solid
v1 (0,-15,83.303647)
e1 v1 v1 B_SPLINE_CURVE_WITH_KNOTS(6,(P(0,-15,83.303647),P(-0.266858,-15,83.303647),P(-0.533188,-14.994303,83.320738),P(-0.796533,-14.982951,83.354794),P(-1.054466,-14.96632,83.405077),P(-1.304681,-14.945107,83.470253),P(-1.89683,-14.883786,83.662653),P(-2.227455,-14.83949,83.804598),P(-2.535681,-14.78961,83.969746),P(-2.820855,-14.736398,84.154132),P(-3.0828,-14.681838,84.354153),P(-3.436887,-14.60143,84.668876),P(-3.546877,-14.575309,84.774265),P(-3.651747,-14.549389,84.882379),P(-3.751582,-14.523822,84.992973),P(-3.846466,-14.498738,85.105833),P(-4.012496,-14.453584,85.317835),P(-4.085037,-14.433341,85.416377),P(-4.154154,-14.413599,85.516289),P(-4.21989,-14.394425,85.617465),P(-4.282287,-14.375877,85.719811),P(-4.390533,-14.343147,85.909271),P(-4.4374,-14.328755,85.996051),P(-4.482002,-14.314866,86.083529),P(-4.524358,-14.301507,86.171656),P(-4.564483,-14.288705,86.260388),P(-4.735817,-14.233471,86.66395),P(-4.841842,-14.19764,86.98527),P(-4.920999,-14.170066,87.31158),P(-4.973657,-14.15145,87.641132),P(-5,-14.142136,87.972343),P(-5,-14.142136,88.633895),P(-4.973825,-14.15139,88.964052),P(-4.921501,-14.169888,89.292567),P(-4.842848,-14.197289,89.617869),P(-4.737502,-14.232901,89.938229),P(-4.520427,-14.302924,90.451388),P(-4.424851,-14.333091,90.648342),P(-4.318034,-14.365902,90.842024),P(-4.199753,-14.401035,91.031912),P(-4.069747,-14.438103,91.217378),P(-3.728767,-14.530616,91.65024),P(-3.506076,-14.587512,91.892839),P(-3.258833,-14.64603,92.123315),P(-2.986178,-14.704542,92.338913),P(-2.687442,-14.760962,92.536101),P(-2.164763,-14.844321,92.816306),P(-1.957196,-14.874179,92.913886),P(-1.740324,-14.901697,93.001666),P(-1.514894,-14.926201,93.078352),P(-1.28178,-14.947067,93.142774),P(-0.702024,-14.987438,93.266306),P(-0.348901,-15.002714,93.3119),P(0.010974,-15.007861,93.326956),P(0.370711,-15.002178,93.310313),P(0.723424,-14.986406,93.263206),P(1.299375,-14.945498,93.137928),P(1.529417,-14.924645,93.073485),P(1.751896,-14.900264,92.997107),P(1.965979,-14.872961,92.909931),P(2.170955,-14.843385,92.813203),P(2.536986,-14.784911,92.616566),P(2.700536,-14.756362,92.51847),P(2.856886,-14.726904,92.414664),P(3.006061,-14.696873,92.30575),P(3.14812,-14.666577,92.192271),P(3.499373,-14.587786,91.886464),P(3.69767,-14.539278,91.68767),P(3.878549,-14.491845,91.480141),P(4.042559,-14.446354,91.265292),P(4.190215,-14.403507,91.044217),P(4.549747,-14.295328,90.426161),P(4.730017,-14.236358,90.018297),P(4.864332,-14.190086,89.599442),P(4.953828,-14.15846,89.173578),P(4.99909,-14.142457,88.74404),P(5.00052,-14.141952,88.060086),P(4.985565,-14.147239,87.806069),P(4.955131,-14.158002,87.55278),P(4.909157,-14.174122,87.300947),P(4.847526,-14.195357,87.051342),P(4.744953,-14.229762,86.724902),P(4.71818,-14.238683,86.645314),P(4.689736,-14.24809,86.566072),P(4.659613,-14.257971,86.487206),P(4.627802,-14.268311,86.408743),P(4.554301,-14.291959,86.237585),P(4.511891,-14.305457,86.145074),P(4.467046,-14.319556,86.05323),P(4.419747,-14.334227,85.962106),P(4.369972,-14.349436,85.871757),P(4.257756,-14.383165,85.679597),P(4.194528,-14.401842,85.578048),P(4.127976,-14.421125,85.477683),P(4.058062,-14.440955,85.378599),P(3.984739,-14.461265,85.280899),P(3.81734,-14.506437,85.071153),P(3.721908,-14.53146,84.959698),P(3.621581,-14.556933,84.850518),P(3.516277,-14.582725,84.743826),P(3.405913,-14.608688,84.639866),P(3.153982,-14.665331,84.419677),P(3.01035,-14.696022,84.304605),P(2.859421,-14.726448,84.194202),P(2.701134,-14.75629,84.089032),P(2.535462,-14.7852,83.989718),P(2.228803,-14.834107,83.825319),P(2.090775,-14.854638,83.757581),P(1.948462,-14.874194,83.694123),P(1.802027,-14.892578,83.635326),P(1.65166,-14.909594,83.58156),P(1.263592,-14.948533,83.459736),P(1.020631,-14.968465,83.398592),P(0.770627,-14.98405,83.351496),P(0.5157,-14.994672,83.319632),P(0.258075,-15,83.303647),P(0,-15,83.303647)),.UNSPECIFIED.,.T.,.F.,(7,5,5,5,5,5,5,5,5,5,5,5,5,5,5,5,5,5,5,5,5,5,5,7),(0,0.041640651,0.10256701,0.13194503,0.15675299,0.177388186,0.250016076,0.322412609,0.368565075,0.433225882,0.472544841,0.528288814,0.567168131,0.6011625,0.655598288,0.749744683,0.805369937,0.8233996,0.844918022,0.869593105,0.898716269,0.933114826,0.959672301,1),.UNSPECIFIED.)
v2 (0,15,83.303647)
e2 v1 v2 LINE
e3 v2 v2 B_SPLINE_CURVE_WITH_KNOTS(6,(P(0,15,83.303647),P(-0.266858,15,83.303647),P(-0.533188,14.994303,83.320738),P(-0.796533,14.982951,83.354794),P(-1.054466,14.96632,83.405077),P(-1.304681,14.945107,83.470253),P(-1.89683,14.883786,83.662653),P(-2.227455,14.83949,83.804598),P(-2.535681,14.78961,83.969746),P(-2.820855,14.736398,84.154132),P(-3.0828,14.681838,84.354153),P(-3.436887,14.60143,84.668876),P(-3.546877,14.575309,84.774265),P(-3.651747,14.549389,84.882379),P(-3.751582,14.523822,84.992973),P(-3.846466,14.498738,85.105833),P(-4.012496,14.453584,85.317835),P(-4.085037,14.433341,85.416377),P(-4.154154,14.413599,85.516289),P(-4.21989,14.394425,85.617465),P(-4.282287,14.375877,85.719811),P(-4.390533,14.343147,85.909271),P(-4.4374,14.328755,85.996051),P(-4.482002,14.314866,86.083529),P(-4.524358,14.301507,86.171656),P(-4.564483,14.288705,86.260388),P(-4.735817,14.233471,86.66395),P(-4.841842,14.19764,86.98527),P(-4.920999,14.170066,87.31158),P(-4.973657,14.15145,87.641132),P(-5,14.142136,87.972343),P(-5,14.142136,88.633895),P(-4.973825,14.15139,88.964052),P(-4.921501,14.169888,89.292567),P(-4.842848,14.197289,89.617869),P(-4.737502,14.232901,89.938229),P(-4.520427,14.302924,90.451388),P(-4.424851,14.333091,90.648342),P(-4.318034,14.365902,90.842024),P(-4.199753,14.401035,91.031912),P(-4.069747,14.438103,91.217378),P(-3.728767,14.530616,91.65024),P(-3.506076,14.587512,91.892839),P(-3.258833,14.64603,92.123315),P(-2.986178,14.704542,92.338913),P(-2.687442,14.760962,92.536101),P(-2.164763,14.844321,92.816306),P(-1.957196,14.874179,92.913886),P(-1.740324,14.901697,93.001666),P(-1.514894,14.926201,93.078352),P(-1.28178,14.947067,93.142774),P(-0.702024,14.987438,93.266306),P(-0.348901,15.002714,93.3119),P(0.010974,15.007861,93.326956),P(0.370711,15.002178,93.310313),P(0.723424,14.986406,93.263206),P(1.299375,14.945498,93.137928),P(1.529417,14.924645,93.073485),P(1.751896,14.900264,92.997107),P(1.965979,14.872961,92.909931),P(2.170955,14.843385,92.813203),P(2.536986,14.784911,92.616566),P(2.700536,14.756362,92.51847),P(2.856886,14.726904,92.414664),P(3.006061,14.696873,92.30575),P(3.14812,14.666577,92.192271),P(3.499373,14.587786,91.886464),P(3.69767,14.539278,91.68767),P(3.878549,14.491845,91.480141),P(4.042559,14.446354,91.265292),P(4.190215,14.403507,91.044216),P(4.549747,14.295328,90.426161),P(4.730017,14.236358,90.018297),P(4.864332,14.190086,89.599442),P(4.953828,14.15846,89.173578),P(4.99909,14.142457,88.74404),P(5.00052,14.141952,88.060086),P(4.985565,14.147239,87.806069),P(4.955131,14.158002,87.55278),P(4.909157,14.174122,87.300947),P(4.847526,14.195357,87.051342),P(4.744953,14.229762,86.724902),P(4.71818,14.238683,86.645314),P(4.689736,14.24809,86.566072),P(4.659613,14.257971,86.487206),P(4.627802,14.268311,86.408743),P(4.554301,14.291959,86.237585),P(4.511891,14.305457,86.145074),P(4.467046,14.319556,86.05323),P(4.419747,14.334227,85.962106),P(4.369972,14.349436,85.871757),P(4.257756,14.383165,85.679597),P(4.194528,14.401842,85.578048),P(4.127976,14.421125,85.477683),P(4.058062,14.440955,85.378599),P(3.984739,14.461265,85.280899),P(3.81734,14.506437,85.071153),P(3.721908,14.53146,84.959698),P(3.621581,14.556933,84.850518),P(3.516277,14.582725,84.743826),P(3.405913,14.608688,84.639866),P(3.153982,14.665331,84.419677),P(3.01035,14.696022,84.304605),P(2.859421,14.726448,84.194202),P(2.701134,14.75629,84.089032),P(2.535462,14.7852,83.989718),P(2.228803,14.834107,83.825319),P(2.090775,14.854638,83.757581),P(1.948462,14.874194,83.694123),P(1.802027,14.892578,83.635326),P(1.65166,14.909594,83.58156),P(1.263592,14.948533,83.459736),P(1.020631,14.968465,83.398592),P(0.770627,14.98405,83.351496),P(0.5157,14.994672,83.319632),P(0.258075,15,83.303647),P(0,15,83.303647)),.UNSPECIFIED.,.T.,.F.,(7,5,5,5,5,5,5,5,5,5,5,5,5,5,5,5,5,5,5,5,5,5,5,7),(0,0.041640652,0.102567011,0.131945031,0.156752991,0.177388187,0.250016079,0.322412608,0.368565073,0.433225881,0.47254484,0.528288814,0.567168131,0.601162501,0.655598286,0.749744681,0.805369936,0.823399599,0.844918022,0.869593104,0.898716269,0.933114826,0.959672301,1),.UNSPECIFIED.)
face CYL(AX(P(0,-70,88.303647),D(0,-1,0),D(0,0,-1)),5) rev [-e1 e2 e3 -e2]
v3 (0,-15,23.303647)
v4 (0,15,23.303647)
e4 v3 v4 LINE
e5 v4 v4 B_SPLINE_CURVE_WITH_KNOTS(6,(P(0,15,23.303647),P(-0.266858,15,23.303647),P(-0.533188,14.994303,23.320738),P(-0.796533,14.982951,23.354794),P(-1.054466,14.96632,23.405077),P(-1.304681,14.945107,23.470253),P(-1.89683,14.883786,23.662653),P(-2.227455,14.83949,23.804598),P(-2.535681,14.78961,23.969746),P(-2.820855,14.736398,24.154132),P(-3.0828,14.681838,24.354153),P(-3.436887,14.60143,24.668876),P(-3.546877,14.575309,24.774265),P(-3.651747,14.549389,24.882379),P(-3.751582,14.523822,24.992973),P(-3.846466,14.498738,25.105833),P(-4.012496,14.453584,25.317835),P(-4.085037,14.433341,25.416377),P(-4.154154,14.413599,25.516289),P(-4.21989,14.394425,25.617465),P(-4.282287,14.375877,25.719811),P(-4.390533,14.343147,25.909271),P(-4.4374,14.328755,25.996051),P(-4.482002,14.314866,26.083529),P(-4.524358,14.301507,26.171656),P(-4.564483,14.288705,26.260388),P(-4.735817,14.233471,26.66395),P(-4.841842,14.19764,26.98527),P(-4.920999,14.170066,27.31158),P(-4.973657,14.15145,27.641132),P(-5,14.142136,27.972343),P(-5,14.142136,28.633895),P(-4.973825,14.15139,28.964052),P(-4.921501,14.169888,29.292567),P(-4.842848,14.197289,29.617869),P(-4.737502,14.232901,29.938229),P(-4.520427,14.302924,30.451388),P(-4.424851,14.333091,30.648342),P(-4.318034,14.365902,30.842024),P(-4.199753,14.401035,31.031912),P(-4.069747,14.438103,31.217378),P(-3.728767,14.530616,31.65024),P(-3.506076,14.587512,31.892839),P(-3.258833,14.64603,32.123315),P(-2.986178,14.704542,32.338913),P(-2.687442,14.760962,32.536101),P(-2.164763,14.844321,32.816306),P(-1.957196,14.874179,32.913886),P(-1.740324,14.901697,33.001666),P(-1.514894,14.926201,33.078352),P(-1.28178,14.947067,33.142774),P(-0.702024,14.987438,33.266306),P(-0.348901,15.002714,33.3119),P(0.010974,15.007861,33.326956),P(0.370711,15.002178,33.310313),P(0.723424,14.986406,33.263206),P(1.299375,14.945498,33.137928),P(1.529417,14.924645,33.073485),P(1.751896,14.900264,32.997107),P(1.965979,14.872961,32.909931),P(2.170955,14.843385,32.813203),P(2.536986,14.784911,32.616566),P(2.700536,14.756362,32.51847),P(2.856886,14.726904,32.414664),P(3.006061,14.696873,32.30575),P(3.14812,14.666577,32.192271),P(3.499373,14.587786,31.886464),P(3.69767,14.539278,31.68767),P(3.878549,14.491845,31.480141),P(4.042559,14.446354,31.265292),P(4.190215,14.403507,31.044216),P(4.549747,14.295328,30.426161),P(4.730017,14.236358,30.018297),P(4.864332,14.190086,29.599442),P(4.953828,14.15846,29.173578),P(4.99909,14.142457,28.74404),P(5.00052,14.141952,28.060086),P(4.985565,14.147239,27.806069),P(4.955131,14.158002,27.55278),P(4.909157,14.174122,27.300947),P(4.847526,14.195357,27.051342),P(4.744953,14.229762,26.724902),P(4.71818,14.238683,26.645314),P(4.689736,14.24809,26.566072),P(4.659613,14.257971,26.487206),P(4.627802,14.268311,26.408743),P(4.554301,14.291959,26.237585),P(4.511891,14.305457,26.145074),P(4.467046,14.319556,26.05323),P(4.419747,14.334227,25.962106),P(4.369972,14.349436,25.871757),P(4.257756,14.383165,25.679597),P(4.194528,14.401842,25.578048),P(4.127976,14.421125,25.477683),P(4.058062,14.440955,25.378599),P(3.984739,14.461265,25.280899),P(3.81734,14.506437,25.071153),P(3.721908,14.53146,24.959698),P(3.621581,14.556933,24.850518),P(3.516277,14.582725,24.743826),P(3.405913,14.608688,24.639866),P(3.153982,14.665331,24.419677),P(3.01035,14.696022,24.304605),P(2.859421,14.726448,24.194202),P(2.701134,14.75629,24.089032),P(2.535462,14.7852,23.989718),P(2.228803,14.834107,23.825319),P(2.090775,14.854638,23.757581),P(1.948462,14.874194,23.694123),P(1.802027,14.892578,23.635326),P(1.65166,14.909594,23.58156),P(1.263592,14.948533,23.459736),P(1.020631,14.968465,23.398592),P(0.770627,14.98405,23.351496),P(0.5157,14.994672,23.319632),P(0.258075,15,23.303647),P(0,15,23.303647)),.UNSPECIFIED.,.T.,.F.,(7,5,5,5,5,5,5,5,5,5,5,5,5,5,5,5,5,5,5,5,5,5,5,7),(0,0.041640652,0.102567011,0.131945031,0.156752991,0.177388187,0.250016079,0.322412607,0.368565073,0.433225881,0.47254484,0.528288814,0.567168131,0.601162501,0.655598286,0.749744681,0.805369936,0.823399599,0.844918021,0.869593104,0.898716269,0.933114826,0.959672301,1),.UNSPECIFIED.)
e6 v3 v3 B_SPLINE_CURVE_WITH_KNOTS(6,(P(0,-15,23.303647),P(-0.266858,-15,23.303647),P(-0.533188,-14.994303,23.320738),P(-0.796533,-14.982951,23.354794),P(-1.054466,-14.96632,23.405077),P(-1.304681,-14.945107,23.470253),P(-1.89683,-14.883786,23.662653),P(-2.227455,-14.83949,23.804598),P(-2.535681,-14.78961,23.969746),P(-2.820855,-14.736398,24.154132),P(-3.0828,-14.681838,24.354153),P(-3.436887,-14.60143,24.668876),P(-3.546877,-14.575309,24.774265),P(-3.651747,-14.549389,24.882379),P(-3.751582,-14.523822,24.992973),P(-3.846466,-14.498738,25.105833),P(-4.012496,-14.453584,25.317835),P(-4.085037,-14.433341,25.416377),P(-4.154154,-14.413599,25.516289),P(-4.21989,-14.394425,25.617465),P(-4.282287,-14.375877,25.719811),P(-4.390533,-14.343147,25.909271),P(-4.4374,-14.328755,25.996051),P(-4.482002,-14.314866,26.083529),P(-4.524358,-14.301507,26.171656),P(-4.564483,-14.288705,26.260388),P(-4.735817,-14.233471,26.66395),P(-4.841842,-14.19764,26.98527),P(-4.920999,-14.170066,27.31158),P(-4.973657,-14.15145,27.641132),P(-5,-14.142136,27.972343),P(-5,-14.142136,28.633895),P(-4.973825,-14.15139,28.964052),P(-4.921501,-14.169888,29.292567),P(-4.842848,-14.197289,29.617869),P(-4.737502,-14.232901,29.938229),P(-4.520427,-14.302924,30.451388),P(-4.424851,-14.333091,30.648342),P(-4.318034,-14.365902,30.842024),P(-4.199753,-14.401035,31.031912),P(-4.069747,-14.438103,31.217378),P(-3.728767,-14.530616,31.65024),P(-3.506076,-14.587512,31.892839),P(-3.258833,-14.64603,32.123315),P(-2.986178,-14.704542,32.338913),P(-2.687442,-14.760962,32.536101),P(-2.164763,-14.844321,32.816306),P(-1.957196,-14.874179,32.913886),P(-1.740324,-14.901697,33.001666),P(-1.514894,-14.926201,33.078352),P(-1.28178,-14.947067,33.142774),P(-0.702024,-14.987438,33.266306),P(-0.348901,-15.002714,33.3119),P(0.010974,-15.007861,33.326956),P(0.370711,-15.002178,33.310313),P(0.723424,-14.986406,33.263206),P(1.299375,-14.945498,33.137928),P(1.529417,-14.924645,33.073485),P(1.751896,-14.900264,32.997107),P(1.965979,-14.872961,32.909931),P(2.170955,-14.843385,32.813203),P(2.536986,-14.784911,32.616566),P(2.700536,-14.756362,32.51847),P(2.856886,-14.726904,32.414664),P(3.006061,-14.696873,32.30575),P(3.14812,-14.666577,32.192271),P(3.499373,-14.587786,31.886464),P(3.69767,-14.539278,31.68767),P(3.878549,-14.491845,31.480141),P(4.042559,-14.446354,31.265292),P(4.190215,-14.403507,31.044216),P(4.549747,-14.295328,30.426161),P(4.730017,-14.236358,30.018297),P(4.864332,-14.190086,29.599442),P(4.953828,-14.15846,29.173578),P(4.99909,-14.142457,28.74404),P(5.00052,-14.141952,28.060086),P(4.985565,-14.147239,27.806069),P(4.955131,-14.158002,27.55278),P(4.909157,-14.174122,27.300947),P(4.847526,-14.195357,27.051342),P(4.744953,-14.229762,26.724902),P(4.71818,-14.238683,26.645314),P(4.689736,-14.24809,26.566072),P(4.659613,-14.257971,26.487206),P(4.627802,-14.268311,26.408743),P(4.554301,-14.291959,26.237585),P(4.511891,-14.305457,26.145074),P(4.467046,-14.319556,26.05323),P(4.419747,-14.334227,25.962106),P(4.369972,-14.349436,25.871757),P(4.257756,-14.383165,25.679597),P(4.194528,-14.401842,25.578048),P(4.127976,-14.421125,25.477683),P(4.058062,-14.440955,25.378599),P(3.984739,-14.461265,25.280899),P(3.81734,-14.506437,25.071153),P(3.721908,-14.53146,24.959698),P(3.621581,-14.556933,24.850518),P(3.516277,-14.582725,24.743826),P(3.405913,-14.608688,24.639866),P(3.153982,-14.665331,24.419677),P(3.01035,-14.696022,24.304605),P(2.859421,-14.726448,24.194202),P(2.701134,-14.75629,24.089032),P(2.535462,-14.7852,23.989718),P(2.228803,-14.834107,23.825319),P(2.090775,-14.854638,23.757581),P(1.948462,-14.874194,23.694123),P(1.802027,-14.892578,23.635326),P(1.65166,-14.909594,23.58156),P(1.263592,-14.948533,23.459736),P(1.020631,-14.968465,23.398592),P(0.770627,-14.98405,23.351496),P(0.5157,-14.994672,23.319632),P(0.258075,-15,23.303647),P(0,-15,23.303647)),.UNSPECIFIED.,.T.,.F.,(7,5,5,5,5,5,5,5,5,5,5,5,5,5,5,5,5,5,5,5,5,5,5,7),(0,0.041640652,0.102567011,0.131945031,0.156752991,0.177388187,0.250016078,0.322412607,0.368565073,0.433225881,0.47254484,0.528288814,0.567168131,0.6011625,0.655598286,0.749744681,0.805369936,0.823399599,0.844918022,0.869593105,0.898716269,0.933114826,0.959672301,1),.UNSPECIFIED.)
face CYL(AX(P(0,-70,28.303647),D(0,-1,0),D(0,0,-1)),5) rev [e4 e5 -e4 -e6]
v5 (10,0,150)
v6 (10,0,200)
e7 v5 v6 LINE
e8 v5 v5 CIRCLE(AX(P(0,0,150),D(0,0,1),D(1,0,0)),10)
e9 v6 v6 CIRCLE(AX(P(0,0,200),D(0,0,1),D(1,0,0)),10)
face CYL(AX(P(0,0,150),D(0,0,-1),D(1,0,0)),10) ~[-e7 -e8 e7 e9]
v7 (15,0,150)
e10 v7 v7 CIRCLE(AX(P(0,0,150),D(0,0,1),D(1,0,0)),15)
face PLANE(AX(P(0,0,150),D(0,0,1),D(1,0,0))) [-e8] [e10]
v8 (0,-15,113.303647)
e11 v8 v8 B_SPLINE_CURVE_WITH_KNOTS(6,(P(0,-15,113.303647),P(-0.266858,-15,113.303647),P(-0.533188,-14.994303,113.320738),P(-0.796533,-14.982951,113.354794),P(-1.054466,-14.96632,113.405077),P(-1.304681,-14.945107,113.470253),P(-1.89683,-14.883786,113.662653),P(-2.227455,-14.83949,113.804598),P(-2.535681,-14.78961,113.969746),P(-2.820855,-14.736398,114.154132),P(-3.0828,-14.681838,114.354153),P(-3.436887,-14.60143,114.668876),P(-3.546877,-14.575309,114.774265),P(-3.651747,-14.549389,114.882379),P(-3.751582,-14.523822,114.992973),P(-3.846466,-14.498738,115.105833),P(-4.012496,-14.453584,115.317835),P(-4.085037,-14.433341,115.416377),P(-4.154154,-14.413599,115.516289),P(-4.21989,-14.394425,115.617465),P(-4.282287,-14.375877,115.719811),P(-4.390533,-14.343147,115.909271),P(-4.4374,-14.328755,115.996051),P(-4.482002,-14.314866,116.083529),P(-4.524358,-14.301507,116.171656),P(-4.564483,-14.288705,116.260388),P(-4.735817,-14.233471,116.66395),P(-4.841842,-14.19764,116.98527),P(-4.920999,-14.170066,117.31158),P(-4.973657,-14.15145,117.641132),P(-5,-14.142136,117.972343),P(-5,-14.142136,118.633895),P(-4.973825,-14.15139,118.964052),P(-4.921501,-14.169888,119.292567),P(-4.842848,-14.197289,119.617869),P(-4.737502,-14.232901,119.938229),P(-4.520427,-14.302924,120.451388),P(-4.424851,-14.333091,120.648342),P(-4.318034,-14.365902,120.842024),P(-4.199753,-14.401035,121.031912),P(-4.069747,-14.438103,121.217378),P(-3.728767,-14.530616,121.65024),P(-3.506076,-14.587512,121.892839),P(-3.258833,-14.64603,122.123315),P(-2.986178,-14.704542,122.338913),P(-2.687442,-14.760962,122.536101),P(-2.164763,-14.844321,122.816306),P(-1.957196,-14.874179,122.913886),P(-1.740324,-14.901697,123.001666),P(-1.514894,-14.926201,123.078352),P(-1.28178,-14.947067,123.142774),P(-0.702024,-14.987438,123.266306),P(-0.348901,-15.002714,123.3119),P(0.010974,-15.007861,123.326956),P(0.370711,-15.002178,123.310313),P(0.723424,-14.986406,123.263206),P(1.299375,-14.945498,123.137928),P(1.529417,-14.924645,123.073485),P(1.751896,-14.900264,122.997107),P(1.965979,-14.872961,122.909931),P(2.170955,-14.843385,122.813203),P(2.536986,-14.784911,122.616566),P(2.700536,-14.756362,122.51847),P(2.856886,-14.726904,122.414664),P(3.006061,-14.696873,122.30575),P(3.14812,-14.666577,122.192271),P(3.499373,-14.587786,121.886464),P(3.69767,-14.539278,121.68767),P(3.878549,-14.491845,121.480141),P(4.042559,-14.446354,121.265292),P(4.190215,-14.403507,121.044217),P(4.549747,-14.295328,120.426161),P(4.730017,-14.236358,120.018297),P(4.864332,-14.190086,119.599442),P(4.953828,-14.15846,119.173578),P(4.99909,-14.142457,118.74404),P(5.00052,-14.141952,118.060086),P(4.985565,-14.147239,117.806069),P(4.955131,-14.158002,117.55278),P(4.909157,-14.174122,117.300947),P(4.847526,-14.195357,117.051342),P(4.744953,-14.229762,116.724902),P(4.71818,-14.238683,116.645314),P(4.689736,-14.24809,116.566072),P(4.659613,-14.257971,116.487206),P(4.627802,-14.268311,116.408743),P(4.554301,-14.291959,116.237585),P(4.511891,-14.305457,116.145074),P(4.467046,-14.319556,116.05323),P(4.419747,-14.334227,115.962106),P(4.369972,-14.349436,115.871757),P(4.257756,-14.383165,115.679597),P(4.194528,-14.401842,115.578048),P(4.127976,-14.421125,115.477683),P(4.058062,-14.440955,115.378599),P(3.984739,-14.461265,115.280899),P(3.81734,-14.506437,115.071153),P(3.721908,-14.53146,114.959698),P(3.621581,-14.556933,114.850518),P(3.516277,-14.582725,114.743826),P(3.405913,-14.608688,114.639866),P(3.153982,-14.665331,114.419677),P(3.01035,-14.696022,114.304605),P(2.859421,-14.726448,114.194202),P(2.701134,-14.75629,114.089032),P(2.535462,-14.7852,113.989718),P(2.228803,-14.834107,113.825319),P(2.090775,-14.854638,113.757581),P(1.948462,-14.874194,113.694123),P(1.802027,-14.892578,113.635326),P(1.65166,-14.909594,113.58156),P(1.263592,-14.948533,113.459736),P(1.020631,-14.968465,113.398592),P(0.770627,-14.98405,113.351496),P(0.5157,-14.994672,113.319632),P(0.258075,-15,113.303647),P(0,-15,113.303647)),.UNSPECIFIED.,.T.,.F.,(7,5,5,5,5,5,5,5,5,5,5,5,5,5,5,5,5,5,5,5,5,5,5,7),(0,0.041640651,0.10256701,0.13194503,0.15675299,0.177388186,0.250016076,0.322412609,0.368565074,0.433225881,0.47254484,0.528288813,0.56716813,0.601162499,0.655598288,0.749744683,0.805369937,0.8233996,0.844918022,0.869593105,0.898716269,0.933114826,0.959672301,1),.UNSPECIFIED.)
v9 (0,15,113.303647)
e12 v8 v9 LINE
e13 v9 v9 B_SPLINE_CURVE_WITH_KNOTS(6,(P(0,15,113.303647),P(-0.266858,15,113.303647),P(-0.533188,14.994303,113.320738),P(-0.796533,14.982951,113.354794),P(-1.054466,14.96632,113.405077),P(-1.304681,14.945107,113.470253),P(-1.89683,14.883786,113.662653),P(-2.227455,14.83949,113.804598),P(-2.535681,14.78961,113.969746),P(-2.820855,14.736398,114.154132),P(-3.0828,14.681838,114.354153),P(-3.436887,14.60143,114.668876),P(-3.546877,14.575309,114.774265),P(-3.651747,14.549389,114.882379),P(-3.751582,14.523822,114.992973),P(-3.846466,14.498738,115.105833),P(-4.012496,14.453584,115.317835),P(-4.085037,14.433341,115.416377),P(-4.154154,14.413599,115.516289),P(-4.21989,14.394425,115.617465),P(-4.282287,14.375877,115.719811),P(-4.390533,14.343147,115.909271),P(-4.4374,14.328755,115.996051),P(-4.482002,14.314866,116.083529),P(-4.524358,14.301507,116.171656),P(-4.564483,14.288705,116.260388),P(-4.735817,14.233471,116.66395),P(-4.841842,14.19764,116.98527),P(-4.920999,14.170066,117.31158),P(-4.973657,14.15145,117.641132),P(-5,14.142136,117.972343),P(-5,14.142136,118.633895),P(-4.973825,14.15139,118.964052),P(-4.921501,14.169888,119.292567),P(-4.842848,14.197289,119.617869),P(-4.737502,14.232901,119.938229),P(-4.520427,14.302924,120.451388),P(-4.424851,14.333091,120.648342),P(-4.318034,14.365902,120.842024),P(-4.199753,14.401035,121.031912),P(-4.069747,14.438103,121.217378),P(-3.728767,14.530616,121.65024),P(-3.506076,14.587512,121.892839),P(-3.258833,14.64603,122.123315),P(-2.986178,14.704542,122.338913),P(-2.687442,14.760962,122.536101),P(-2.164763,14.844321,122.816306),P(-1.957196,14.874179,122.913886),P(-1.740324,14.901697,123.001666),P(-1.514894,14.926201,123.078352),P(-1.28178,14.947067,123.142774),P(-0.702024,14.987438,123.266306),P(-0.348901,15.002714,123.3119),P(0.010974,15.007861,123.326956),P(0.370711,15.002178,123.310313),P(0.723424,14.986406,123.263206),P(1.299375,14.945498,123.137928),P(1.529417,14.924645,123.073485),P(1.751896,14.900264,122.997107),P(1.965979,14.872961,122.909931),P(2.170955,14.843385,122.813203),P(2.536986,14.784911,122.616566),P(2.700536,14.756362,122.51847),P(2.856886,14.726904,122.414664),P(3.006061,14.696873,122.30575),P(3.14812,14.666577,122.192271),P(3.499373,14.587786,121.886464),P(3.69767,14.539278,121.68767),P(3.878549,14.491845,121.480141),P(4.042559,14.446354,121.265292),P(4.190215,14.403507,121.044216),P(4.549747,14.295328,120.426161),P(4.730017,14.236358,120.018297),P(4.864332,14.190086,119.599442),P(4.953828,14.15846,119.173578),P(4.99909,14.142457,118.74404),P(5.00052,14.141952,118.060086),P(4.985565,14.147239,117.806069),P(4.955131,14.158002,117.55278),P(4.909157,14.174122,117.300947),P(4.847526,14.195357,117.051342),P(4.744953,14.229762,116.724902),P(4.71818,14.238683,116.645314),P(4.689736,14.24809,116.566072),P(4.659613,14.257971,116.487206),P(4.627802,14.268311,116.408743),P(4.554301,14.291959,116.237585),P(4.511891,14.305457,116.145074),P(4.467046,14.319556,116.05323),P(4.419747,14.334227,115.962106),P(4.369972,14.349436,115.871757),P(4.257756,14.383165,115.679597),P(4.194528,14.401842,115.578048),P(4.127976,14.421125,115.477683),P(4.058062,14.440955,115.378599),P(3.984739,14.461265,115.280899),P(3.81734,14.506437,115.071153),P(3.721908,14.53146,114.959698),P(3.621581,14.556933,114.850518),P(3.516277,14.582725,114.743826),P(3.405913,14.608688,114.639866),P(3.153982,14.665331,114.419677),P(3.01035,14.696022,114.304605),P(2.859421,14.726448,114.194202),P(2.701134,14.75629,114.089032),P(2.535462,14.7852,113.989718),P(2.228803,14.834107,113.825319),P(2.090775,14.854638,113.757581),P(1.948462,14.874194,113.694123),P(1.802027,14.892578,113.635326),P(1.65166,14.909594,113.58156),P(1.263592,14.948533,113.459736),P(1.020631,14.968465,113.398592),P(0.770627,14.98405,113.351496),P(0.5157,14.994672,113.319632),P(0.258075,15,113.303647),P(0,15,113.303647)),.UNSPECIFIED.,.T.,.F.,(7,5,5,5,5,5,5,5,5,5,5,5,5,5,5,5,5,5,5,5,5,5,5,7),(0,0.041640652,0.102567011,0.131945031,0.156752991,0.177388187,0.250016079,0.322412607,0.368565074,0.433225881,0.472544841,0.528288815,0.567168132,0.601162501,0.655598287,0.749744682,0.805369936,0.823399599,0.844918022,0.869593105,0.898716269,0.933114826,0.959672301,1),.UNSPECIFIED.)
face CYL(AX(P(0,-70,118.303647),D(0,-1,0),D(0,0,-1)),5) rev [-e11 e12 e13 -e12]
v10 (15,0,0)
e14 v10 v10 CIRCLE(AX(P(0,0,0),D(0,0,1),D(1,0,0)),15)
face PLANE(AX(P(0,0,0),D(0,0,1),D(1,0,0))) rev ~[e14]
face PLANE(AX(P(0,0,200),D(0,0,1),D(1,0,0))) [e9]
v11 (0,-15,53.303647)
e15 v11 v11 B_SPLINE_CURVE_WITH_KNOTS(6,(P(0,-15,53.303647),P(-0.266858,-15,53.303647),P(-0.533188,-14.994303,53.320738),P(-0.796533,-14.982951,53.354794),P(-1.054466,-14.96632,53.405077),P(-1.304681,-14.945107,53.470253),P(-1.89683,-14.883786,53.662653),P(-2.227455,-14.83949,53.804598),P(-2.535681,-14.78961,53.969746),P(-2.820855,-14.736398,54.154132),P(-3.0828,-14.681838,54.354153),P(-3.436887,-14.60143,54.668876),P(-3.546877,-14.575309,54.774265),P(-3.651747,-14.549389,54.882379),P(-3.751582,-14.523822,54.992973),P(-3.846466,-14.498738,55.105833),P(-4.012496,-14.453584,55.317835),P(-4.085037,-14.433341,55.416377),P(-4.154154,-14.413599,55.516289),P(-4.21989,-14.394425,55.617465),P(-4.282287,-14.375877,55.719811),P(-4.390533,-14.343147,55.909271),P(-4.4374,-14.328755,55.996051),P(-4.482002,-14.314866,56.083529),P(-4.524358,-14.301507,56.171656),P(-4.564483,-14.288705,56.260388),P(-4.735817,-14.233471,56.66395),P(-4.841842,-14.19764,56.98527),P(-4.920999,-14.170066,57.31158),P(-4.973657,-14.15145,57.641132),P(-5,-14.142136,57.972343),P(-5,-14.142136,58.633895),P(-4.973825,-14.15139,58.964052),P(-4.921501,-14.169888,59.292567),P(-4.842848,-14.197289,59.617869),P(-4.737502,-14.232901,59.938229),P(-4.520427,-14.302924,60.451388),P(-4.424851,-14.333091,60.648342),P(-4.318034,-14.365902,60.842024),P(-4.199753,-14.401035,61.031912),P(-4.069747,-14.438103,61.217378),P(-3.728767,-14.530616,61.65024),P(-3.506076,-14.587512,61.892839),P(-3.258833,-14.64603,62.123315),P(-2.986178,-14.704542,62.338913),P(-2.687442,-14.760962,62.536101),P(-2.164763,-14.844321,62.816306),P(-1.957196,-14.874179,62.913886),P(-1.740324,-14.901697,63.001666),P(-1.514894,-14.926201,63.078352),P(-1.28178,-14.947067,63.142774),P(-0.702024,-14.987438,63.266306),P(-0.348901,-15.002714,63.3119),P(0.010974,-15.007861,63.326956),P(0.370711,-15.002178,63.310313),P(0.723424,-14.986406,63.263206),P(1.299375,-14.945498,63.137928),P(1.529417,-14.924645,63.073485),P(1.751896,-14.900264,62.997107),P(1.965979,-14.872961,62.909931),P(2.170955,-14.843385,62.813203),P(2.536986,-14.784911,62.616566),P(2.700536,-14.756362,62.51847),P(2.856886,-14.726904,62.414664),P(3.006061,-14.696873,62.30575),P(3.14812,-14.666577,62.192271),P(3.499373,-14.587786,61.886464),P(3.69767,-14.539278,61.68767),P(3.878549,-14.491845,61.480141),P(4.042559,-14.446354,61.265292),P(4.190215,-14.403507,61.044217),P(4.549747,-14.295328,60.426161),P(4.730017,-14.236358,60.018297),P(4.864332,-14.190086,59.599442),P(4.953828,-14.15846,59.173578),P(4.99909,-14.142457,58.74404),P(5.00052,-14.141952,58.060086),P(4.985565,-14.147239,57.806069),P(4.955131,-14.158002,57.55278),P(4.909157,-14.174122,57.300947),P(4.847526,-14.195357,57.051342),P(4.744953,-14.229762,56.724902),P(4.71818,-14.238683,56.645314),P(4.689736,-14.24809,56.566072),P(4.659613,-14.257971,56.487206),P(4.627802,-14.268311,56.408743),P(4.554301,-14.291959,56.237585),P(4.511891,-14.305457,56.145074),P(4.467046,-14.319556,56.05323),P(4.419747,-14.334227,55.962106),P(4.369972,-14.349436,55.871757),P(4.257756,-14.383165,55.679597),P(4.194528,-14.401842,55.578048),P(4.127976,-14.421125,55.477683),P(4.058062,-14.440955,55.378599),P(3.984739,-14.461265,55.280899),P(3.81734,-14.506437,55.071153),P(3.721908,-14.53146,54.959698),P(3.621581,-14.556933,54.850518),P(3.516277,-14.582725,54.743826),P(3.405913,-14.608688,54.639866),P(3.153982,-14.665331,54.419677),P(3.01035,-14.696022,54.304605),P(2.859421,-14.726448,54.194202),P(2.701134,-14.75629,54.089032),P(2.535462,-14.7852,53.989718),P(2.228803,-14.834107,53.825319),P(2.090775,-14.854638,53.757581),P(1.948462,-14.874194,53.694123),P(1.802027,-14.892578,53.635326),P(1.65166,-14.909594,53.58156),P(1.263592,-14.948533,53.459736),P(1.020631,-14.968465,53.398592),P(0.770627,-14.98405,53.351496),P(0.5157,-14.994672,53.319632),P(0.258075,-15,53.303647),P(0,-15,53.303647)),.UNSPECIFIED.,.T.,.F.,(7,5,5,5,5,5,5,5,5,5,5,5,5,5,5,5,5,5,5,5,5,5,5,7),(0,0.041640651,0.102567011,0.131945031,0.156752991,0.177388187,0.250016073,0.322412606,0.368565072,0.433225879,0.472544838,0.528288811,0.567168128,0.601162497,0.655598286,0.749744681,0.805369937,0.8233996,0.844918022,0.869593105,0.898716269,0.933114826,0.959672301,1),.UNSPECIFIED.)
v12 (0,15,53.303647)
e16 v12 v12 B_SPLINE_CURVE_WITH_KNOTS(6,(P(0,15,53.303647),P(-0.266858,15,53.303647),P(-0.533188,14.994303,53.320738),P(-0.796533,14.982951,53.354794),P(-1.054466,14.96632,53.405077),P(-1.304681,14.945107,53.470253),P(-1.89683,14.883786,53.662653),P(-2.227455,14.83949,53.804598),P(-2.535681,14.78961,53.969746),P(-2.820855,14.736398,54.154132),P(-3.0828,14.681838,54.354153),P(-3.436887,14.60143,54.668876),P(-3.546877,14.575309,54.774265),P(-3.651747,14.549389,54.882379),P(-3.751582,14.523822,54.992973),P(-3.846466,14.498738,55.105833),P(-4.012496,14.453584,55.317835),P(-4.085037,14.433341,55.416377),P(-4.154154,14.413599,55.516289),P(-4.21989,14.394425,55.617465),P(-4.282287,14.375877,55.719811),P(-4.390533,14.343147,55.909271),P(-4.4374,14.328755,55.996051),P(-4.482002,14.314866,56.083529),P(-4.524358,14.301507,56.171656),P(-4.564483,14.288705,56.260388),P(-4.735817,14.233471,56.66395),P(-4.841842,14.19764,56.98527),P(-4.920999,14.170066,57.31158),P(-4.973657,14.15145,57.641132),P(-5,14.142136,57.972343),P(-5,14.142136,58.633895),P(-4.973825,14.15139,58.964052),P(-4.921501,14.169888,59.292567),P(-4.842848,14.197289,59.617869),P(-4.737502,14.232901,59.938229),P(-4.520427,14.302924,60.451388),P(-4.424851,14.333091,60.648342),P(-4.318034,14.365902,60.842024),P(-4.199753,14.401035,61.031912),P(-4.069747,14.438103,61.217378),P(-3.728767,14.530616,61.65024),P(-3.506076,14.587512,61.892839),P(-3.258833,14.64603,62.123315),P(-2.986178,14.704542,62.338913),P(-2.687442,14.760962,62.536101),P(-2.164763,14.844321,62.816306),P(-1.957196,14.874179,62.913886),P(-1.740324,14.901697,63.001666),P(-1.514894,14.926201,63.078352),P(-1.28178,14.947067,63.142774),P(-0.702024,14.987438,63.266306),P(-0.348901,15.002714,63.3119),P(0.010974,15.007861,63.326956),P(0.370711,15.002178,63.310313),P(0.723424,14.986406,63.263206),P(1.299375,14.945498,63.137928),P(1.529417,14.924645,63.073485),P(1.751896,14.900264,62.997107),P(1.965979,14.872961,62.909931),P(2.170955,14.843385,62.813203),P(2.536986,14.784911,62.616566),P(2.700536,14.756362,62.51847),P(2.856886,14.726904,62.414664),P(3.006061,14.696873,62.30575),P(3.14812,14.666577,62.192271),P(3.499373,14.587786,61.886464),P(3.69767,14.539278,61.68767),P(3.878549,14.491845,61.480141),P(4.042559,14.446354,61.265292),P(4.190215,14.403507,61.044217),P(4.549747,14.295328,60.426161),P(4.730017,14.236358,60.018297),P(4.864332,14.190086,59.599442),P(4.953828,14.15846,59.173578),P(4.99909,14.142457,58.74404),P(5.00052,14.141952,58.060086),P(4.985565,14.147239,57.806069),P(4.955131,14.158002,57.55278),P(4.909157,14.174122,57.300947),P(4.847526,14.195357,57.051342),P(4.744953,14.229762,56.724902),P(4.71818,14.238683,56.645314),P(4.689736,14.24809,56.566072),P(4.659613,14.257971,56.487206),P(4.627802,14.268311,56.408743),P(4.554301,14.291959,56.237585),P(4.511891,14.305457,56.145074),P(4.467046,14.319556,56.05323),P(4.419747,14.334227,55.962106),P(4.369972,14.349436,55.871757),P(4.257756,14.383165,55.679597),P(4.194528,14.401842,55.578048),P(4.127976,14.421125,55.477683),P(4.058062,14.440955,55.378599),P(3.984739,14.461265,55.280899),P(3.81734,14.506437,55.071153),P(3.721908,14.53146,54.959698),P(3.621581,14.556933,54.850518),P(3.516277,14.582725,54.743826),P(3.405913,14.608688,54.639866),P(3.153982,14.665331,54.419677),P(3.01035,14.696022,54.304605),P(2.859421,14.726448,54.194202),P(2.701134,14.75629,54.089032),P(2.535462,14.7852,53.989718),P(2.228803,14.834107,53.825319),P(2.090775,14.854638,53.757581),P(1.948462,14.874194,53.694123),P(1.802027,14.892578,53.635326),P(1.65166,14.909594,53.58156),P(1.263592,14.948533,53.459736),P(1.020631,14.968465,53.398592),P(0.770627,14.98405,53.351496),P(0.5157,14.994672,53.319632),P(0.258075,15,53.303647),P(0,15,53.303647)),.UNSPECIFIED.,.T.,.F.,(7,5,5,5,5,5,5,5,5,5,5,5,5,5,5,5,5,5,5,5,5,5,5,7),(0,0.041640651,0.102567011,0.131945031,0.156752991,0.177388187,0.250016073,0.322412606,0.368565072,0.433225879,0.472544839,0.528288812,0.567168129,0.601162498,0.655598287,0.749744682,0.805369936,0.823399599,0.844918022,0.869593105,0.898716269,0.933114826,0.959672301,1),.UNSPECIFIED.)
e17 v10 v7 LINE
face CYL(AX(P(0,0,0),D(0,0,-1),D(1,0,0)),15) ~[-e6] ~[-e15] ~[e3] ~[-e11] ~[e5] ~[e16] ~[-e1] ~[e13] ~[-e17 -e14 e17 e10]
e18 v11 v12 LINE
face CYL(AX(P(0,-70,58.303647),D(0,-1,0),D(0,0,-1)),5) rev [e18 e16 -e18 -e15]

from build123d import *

# Parameters (mm, degrees)
SZKIC1_R                        = 15
DODANIE_WYCI_GNI_CIE1_DEPTH     = 150
SZKIC2_R                        = 10
DODANIE_WYCI_GNI_CIE2_DEPTH     = 50
WYTNIJ_WYCI_GNI_CIE1_DEPTH      = 70
WYTNIJ_WYCI_GNI_CIE1_DEPTH_BACK = 70
SZKIC3_R                        = 5


with BuildPart() as part:
    # Szkic1 → Dodanie-wyciągnięcie1 (new body)
    with BuildSketch(Plane.XY):
        Circle(SZKIC1_R)
    extrude(amount=DODANIE_WYCI_GNI_CIE1_DEPTH)

    # Szkic2 → Dodanie-wyciągnięcie2 (add)
    with BuildSketch(Plane.XY.offset(150)):
        Circle(SZKIC2_R)
    extrude(amount=DODANIE_WYCI_GNI_CIE2_DEPTH)

    # Szkic3 → Wytnij-wyciągnięcie1 (cut, two sides: drawn at the far end of the back side and taken through both)
    with BuildSketch(Plane(origin=(0, 0, 0), x_dir=(1, 0, 0), z_dir=(0, 1, 0)).offset(-WYTNIJ_WYCI_GNI_CIE1_DEPTH_BACK)):
        with Locations((0, -28.303646962)):
            Circle(SZKIC3_R)
        with Locations((0, -58.303646962)):
            Circle(SZKIC3_R)
        with Locations((0, -88.303646962)):
            Circle(SZKIC3_R)
        with Locations((0, -118.303646962)):
            Circle(SZKIC3_R)
    extrude(amount=WYTNIJ_WYCI_GNI_CIE1_DEPTH + WYTNIJ_WYCI_GNI_CIE1_DEPTH_BACK, mode=Mode.SUBTRACT)


solid = part.part
